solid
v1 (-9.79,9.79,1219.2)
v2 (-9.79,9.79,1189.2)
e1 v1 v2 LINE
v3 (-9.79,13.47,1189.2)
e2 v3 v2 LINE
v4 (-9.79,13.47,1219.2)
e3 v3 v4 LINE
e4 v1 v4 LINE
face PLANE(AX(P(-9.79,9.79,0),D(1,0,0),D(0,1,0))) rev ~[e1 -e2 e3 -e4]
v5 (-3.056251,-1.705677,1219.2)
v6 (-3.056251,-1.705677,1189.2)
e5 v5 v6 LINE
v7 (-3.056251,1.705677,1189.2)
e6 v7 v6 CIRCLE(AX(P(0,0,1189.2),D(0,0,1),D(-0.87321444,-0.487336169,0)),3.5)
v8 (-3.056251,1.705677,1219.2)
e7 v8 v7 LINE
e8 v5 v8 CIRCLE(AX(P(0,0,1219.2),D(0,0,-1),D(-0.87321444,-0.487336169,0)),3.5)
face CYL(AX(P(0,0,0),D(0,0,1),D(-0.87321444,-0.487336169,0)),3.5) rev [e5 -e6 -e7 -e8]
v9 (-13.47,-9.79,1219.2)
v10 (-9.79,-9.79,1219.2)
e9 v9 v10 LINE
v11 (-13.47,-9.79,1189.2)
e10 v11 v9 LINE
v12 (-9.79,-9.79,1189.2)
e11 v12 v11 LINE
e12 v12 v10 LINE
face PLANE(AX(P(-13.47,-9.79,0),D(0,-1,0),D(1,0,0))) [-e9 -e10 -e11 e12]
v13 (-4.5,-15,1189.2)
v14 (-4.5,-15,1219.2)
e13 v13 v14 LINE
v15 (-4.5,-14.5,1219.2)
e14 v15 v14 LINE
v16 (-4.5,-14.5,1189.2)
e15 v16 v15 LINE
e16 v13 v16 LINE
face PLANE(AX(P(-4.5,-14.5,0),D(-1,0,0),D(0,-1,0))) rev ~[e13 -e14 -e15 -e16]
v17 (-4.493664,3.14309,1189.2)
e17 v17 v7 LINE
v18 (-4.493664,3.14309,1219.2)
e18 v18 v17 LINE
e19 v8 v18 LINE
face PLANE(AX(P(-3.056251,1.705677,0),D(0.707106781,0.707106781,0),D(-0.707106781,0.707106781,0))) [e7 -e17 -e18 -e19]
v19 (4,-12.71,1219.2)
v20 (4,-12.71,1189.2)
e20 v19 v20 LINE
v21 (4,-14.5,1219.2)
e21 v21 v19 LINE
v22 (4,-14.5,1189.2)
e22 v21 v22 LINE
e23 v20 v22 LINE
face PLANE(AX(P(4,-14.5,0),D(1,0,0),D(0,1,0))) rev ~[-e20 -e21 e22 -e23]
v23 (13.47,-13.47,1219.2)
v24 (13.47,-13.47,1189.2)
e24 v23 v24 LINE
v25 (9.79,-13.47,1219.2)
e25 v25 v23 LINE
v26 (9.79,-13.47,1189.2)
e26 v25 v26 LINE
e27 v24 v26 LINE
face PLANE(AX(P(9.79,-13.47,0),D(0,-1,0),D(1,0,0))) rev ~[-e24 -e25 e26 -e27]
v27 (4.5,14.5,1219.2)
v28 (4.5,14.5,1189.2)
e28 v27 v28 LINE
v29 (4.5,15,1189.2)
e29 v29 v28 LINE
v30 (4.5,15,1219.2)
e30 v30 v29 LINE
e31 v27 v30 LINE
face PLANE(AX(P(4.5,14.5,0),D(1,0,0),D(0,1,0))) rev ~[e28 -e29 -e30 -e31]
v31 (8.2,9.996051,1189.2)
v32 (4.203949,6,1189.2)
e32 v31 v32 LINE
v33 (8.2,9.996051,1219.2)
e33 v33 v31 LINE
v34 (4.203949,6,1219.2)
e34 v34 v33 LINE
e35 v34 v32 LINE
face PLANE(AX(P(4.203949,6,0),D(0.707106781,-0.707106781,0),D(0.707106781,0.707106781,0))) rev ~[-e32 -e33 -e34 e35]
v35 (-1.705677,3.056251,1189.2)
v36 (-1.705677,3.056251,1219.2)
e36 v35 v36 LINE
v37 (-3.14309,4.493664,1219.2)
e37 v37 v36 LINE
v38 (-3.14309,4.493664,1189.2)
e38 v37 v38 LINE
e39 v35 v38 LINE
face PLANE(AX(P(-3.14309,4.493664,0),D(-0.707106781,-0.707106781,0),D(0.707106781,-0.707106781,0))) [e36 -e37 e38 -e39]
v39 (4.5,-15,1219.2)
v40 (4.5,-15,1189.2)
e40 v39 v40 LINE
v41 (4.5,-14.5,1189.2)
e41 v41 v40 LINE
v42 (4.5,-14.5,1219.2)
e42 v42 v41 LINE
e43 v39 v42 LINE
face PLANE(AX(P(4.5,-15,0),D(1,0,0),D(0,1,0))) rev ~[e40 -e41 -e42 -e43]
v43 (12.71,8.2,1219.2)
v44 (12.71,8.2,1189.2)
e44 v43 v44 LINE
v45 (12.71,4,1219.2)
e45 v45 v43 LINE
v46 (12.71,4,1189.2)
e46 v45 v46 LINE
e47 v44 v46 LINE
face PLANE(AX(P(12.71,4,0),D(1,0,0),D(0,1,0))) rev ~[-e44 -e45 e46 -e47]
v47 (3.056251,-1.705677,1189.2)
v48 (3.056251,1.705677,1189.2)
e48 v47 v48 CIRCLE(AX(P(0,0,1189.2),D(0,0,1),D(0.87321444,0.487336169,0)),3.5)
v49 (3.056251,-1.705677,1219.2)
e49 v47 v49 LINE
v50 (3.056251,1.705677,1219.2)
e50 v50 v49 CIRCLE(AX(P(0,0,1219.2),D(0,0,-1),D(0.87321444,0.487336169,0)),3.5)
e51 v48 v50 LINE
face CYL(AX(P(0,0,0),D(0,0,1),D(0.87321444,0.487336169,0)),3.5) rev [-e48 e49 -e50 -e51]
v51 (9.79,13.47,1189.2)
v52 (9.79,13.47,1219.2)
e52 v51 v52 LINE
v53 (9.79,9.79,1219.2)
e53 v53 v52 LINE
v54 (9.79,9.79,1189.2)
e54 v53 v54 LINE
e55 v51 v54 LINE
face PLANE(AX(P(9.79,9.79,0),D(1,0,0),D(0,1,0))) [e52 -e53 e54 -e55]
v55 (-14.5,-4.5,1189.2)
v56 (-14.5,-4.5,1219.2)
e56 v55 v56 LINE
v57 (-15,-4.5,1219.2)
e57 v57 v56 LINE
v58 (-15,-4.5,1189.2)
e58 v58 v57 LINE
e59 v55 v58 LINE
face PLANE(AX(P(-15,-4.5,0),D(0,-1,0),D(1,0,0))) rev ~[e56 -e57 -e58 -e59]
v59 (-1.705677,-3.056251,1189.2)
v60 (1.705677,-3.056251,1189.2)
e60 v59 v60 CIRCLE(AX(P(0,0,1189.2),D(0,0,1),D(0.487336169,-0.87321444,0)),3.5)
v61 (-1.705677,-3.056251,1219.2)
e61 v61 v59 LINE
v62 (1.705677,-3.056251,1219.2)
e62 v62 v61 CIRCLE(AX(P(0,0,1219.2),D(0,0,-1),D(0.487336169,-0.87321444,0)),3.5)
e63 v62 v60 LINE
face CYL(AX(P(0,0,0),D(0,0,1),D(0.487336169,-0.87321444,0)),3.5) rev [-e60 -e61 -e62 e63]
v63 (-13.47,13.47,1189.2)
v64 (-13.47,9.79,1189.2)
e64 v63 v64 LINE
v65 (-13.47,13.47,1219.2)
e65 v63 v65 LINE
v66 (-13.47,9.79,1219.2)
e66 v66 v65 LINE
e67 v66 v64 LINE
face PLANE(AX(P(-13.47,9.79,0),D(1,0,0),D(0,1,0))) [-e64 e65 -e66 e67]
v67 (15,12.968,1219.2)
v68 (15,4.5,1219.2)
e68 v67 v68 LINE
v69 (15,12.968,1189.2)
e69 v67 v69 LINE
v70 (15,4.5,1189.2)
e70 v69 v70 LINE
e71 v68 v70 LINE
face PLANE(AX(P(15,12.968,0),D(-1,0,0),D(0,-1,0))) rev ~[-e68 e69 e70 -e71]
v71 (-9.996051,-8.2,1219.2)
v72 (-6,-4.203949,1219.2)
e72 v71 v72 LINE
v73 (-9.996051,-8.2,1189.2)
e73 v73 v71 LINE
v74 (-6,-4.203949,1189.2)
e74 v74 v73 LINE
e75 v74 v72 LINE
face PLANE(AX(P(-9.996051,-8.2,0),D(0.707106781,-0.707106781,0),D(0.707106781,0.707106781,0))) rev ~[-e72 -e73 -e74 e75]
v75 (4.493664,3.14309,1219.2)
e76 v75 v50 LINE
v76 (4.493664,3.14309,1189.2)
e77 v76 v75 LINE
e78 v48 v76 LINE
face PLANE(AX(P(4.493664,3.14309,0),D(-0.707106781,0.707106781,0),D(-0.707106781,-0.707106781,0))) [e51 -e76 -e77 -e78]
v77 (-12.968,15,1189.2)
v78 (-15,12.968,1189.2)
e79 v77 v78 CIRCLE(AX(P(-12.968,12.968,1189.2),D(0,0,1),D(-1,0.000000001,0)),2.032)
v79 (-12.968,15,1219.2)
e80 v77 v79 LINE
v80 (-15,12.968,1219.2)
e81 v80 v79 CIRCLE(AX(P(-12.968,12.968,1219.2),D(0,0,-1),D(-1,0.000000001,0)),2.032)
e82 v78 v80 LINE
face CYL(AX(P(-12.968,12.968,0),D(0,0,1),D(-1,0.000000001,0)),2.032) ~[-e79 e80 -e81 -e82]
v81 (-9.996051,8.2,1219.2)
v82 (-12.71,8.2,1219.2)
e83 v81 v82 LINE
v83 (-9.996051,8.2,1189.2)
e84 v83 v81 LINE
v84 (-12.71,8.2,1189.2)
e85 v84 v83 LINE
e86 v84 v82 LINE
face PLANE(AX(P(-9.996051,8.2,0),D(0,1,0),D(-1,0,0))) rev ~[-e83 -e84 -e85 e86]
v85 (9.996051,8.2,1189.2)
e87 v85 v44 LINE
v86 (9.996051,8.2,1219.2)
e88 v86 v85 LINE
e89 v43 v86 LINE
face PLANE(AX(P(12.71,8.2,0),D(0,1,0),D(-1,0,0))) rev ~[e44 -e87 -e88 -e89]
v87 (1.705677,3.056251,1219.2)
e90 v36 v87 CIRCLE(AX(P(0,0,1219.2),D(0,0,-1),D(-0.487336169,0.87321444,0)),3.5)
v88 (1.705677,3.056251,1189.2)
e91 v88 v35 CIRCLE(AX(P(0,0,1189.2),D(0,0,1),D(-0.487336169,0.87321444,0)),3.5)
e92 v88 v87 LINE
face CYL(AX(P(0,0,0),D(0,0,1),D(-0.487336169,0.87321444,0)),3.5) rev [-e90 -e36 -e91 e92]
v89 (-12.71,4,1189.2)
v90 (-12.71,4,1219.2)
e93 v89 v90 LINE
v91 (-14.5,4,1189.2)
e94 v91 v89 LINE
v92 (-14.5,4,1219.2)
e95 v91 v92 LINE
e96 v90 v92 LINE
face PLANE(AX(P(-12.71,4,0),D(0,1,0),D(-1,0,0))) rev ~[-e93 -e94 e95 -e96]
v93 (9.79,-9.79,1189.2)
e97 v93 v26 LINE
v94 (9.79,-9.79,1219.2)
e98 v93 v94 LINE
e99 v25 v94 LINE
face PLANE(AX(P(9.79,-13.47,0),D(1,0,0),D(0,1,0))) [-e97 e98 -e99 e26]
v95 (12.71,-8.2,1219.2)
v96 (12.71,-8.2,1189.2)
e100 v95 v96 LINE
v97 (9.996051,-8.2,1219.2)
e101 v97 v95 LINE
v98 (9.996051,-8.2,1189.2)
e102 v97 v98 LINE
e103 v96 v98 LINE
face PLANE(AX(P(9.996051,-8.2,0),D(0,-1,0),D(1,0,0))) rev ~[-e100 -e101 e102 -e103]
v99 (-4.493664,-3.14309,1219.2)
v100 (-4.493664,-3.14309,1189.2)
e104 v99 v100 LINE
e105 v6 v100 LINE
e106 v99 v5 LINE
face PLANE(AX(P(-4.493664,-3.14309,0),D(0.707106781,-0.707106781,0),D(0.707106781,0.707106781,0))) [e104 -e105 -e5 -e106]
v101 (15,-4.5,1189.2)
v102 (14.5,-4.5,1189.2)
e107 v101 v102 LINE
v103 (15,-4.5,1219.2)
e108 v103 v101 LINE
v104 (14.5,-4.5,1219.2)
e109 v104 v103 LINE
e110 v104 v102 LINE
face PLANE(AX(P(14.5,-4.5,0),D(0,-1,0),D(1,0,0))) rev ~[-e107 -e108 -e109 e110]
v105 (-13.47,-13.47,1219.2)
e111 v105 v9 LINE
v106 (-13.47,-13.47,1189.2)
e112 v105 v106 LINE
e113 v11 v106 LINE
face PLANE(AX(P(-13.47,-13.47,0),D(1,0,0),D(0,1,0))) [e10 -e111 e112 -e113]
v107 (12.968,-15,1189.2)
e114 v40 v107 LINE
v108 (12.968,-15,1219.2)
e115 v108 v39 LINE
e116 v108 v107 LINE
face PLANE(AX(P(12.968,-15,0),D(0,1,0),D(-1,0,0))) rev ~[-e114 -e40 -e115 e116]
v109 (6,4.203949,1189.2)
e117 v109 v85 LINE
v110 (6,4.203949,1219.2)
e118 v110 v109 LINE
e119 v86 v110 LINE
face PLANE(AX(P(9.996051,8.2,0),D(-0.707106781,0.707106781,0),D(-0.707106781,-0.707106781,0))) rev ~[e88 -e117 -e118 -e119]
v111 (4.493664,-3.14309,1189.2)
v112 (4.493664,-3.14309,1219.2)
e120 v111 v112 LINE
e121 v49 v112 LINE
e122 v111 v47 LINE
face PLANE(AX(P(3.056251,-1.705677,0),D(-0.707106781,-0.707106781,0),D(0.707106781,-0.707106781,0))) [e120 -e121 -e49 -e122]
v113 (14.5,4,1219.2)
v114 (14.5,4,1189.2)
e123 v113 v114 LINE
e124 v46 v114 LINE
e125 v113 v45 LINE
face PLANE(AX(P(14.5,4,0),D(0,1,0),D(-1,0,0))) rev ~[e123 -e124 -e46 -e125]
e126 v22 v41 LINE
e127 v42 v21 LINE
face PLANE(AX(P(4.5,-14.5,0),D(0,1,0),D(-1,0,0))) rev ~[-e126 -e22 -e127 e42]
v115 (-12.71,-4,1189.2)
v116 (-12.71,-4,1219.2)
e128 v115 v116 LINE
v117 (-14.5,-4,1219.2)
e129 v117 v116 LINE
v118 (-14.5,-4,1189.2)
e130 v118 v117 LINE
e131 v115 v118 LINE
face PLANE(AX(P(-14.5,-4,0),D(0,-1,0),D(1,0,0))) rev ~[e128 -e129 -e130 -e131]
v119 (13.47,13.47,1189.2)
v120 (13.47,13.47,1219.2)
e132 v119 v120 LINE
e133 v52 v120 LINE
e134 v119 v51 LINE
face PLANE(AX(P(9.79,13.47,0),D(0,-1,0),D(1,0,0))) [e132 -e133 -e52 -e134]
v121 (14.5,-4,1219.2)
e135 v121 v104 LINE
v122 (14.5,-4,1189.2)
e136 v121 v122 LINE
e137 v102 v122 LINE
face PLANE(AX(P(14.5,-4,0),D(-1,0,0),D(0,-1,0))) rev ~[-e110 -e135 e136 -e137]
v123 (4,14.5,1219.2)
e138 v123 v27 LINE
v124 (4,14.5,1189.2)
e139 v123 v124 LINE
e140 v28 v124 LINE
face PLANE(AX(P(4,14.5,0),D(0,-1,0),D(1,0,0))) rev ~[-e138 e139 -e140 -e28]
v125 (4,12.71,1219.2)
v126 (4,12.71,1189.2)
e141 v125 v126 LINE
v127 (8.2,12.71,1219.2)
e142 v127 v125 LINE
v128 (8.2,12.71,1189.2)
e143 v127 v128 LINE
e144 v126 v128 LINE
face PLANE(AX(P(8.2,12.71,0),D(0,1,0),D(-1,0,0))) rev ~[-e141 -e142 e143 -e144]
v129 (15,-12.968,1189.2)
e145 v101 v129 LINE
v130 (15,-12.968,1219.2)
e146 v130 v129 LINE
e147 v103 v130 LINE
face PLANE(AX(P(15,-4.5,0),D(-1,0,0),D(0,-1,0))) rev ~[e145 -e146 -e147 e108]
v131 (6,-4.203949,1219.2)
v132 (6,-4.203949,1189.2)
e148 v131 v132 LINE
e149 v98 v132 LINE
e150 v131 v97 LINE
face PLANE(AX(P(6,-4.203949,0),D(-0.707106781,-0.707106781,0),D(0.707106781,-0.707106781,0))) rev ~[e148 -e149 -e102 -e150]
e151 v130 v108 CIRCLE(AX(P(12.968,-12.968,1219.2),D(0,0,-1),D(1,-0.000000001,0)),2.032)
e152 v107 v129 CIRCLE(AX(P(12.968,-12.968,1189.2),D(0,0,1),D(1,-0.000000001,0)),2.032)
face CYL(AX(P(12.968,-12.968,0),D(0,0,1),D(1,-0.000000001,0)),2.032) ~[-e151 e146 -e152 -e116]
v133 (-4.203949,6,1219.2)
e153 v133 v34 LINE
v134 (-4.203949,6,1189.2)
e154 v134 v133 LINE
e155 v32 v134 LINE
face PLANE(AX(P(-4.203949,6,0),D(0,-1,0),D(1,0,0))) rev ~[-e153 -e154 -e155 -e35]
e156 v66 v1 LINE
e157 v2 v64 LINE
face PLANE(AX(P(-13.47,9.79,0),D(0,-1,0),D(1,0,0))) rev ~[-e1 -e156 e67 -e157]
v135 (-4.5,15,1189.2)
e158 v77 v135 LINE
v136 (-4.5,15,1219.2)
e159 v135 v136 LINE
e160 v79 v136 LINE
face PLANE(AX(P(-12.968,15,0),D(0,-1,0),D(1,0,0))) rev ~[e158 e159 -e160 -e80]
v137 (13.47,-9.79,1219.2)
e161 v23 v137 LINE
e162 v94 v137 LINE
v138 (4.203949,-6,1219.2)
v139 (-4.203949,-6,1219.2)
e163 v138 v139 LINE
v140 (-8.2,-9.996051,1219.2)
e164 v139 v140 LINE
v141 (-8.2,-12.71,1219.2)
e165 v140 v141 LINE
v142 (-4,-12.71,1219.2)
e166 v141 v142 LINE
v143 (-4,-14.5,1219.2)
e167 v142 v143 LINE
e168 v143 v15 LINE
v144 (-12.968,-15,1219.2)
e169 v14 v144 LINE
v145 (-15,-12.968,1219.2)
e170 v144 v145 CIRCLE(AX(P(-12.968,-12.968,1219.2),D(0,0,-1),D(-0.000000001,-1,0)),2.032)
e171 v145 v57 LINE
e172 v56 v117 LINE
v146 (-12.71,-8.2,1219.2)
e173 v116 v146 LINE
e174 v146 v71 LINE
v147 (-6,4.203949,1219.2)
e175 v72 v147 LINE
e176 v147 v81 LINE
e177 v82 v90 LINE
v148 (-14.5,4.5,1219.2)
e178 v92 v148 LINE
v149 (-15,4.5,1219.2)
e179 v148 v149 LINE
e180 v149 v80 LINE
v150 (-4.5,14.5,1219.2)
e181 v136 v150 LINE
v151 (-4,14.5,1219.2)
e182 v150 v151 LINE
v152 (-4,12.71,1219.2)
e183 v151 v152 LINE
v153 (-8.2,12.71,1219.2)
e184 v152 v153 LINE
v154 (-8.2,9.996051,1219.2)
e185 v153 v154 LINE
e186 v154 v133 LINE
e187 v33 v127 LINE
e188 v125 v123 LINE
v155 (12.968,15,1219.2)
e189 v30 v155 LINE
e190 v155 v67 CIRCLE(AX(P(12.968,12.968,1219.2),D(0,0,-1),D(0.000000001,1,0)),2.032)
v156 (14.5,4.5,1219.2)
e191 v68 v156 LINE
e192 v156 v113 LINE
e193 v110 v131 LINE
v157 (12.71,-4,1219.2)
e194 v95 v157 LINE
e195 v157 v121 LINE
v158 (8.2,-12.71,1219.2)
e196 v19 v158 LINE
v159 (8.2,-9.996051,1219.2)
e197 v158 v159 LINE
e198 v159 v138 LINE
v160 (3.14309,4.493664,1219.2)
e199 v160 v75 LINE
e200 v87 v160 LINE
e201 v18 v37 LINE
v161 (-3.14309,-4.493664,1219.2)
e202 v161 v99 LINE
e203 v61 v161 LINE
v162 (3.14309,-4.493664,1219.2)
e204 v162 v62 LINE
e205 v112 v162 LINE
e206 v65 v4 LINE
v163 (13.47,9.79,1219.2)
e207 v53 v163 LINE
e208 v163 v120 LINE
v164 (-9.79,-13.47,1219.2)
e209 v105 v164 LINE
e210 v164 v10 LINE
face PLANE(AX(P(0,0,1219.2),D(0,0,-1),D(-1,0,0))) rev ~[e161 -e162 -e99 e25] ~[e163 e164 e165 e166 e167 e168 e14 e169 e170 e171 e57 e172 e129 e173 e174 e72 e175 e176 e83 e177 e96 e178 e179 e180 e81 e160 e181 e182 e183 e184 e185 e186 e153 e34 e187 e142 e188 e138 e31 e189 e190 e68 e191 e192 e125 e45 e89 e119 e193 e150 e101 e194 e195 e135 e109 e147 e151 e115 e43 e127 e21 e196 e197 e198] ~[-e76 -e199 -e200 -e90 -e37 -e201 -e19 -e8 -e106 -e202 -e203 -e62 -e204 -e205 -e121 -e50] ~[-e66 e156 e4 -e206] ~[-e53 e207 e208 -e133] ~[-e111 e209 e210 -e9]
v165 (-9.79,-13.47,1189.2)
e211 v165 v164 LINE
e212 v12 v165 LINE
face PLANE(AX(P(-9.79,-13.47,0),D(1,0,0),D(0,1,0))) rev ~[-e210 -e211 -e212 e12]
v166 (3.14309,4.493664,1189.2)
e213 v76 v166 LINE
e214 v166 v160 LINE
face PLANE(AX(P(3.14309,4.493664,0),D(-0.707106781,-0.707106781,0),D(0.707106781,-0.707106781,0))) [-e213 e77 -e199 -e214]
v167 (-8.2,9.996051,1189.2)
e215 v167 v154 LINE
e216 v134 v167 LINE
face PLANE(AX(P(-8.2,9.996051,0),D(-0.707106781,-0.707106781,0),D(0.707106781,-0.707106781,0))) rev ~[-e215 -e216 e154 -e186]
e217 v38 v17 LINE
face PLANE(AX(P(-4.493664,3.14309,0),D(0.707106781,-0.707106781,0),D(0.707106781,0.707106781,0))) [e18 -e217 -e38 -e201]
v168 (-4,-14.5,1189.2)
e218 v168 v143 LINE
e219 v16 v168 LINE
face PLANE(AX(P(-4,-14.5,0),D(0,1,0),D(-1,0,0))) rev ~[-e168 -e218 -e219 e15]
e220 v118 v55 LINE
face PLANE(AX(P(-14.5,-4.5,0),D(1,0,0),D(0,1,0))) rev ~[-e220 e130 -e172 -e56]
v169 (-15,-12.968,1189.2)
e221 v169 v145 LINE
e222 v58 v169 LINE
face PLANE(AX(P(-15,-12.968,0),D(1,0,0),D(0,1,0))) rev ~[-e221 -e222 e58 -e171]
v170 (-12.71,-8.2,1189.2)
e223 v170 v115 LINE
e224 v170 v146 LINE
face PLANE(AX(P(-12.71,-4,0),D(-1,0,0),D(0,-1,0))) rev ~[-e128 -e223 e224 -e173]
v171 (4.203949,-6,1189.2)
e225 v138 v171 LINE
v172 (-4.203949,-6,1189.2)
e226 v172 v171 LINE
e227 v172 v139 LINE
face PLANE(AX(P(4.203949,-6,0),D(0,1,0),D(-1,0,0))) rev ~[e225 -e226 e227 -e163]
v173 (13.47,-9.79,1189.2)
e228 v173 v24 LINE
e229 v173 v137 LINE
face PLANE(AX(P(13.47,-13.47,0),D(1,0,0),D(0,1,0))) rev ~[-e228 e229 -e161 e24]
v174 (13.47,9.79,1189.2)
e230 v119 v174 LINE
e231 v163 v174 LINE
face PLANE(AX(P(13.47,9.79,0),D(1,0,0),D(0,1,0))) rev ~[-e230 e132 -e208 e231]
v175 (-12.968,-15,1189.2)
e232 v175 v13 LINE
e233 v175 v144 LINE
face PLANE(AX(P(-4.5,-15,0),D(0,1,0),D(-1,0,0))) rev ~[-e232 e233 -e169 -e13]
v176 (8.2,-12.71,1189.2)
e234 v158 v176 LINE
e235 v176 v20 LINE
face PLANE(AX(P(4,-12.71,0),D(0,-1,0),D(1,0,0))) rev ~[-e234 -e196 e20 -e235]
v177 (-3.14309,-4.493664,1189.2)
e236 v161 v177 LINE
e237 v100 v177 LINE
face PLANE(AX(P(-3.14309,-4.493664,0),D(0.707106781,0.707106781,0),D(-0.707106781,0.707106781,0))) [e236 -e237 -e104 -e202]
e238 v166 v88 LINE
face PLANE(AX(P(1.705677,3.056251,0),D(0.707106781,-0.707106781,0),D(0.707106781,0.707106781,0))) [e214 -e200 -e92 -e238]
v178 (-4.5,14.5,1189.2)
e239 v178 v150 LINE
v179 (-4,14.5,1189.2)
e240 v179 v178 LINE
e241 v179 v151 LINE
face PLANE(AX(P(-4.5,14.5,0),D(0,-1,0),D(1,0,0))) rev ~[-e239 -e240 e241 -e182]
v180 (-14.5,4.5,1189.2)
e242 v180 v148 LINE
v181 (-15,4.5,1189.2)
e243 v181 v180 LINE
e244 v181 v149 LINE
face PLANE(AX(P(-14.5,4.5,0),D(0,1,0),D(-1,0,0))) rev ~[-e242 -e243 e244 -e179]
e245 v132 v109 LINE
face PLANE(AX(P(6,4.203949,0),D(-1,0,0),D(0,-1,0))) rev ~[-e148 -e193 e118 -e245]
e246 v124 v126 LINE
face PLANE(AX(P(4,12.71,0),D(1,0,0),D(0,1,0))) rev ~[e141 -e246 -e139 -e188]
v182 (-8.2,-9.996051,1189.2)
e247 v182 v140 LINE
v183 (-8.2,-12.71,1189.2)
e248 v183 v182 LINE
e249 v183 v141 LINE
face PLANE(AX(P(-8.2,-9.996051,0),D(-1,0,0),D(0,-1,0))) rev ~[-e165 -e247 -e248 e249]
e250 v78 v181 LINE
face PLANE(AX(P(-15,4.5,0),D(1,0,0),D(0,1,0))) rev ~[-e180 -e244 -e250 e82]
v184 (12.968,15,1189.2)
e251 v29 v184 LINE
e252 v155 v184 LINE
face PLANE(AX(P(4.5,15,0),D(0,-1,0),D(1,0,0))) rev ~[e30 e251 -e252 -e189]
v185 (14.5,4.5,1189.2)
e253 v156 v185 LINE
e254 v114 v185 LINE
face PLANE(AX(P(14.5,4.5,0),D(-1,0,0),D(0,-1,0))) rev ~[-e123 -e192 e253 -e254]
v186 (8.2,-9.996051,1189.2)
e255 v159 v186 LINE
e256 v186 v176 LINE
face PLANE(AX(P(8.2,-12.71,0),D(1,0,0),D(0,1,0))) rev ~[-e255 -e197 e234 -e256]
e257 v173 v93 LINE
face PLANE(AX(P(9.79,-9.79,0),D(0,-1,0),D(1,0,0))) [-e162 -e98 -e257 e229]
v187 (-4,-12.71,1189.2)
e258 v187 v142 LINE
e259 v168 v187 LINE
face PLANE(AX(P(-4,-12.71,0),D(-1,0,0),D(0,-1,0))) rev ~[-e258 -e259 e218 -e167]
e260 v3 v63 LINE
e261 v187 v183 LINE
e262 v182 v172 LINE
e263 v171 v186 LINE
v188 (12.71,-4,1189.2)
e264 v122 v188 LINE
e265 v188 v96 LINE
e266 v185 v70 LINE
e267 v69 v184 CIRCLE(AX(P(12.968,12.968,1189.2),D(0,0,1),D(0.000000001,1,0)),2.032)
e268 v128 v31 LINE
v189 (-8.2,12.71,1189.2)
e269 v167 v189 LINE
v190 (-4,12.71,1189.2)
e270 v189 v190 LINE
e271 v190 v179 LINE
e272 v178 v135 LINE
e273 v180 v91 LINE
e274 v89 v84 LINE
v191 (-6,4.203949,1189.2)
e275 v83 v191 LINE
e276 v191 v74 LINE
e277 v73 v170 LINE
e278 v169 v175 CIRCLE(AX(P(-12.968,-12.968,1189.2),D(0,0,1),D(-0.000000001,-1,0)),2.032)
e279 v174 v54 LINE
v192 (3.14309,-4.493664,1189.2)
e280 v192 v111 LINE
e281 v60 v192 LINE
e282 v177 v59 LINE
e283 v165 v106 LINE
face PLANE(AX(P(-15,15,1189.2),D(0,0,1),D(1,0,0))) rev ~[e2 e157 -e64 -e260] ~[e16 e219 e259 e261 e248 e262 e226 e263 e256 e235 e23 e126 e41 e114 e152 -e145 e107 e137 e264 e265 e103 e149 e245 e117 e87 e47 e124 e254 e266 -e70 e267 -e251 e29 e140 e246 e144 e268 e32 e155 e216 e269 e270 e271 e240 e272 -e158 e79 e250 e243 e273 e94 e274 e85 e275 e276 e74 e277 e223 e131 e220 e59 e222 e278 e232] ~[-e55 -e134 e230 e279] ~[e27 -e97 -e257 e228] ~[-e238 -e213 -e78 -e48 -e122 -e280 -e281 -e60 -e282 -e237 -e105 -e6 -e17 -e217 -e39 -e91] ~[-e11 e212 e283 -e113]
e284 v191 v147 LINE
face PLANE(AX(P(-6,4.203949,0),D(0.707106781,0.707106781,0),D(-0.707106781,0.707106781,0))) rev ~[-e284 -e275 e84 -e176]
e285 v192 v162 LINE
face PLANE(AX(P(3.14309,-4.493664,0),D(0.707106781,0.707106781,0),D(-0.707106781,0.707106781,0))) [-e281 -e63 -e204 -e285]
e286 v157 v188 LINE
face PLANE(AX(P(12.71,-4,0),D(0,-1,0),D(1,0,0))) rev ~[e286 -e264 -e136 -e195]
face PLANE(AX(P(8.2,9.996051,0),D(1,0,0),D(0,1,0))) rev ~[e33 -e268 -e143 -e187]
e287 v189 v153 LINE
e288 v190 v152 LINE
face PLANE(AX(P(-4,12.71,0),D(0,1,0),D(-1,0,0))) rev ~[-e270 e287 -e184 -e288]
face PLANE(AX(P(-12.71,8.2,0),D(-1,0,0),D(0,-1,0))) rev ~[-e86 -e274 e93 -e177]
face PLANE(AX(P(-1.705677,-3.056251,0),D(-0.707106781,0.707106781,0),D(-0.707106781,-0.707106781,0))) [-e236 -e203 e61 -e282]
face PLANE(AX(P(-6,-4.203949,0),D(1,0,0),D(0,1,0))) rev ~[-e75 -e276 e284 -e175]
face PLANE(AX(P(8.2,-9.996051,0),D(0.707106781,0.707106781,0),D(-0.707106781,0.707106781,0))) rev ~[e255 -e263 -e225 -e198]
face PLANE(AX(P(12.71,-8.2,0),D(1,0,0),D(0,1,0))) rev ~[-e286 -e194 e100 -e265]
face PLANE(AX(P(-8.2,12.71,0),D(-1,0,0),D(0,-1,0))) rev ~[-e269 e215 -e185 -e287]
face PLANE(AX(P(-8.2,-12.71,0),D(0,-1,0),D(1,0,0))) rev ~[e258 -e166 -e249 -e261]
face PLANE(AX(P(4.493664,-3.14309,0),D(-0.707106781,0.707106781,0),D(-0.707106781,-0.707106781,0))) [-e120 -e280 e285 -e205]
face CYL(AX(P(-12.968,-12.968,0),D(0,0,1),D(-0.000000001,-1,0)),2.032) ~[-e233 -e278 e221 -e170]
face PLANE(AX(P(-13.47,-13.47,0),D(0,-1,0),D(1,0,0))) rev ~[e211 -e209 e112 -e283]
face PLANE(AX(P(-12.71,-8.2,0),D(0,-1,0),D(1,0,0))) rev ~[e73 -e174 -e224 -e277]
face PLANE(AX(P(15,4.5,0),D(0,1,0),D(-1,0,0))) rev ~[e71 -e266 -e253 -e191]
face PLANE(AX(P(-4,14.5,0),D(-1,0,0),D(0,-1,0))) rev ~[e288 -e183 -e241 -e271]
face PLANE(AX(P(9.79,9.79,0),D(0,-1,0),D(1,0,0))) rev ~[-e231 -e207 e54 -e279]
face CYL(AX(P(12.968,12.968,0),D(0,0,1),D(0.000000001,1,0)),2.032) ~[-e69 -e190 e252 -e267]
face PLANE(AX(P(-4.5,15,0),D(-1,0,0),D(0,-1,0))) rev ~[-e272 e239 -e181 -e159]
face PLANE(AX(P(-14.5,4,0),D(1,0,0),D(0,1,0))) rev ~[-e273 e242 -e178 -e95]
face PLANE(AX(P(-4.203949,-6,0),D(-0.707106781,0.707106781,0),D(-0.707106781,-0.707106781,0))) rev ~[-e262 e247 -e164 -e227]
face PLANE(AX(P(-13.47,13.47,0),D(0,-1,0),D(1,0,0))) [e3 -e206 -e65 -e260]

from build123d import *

# Parameters (mm, degrees)
SKETCH3_W           = 3.68
SKETCH3_H           = 3.68
BOSS_EXTRUDE1_DEPTH = 1219.2
SKETCH4_W           = 30
SKETCH4_H           = 2408.4
CUT_EXTRUDE1_DEPTH  = 1220.661280848


with BuildPart() as part:
    # Sketch3 → Boss-Extrude1 (new, symmetric)
    with BuildSketch(Plane.XY):
        with BuildLine():
            Line((-4.203948776, 6), (0, 6))
            Line((0, 6), (4.203948776, 6))
            Line((4.203948776, 6), (8.2, 9.996051224))
            Line((8.2, 9.996051224), (8.2, 12.71))
            Line((8.2, 12.71), (4, 12.71))
            Line((4, 12.71), (4, 14.5))
            Line((4, 14.5), (4.5, 14.5))
            Line((4.5, 14.5), (4.5, 15))
            Line((4.5, 15), (12.968, 15))
            ThreePointArc((12.968, 15), (14.404840979, 14.404840979), (15, 12.968))
            Line((15, 12.968), (15, 4.5))
            Line((15, 4.5), (14.5, 4.5))
            Line((14.5, 4.5), (14.5, 4))
            Line((14.5, 4), (12.71, 4))
            Line((12.71, 4), (12.71, 8.2))
            Line((12.71, 8.2), (9.996051224, 8.2))
            Line((9.996051224, 8.2), (6, 4.203948776))
            Line((6, 4.203948776), (6, 0))
            Line((6, 0), (6, -4.203948776))
            Line((6, -4.203948776), (9.996051224, -8.2))
            Line((9.996051224, -8.2), (12.71, -8.2))
            Line((12.71, -8.2), (12.71, -4))
            Line((12.71, -4), (14.5, -4))
            Line((14.5, -4), (14.5, -4.5))
            Line((14.5, -4.5), (15, -4.5))
            Line((15, -4.5), (15, -12.968))
            ThreePointArc((15, -12.968), (14.404840979, -14.404840979), (12.968, -15))
            Line((12.968, -15), (4.5, -15))
            Line((4.5, -15), (4.5, -14.5))
            Line((4.5, -14.5), (4, -14.5))
            Line((4, -14.5), (4, -12.71))
            Line((4, -12.71), (8.2, -12.71))
            Line((8.2, -12.71), (8.2, -9.996051224))
            Line((8.2, -9.996051224), (4.203948776, -6))
            Line((4.203948776, -6), (0, -6))
            Line((0, -6), (-4.203948776, -6))
            Line((-4.203948776, -6), (-8.2, -9.996051224))
            Line((-8.2, -9.996051224), (-8.2, -12.71))
            Line((-8.2, -12.71), (-4, -12.71))
            Line((-4, -12.71), (-4, -14.5))
            Line((-4, -14.5), (-4.5, -14.5))
            Line((-4.5, -14.5), (-4.5, -15))
            Line((-4.5, -15), (-12.968, -15))
            ThreePointArc((-12.968, -15), (-14.404840979, -14.404840979), (-15, -12.968))
            Line((-15, -12.968), (-15, -4.5))
            Line((-15, -4.5), (-14.5, -4.5))
            Line((-14.5, -4.5), (-14.5, -4))
            Line((-14.5, -4), (-12.71, -4))
            Line((-12.71, -4), (-12.71, -8.2))
            Line((-12.71, -8.2), (-9.996051224, -8.2))
            Line((-9.996051224, -8.2), (-6, -4.203948776))
            Line((-6, -4.203948776), (-6, 0))
            Line((-6, 0), (-6, 4.203948776))
            Line((-6, 4.203948776), (-9.996051224, 8.2))
            Line((-9.996051224, 8.2), (-12.71, 8.2))
            Line((-12.71, 8.2), (-12.71, 4))
            Line((-12.71, 4), (-14.5, 4))
            Line((-14.5, 4), (-14.5, 4.5))
            Line((-14.5, 4.5), (-15, 4.5))
            Line((-15, 4.5), (-15, 12.968))
            ThreePointArc((-15, 12.968), (-14.404840979, 14.404840979), (-12.968, 15))
            Line((-12.968, 15), (-4.5, 15))
            Line((-4.5, 15), (-4.5, 14.5))
            Line((-4.5, 14.5), (-4, 14.5))
            Line((-4, 14.5), (-4, 12.71))
            Line((-4, 12.71), (-8.2, 12.71))
            Line((-8.2, 12.71), (-8.2, 9.996051224))
            Line((-8.2, 9.996051224), (-4.203948776, 6))
        make_face()
        with Locations((-11.63, 11.63)):
            Rectangle(SKETCH3_W, SKETCH3_H, mode=Mode.SUBTRACT)
        with BuildLine():
            Line((-3.143089642, 4.493663594), (-1.705676589, 3.056250541))
            ThreePointArc((-1.705676589, 3.056250541), (0, 3.5), (1.705676589, 3.056250541))
            Line((1.705676589, 3.056250541), (3.143089642, 4.493663594))
            Line((3.143089642, 4.493663594), (4.493663594, 3.143089642))
            Line((4.493663594, 3.143089642), (3.056250541, 1.705676589))
            ThreePointArc((3.056250541, 1.705676589), (3.5, 0), (3.056250541, -1.705676589))
            Line((3.056250541, -1.705676589), (4.493663594, -3.143089642))
            Line((4.493663594, -3.143089642), (3.143089642, -4.493663594))
            Line((3.143089642, -4.493663594), (1.705676589, -3.056250541))
            ThreePointArc((1.705676589, -3.056250541), (0, -3.5), (-1.705676589, -3.056250541))
            Line((-1.705676589, -3.056250541), (-3.143089642, -4.493663594))
            Line((-3.143089642, -4.493663594), (-4.493663594, -3.143089642))
            Line((-4.493663594, -3.143089642), (-3.056250541, -1.705676589))
            ThreePointArc((-3.056250541, -1.705676589), (-3.5, 0), (-3.056250541, 1.705676589))
            Line((-3.056250541, 1.705676589), (-4.493663594, 3.143089642))
            Line((-4.493663594, 3.143089642), (-3.143089642, 4.493663594))
        make_face(mode=Mode.SUBTRACT)
        with Locations((11.63, 11.63)):
            Rectangle(SKETCH3_W, SKETCH3_H, mode=Mode.SUBTRACT)
        with Locations((11.63, -11.63)):
            Rectangle(SKETCH3_W, SKETCH3_H, mode=Mode.SUBTRACT)
        with Locations((-11.63, -11.63)):
            Rectangle(SKETCH3_W, SKETCH3_H, mode=Mode.SUBTRACT)
    extrude(amount=BOSS_EXTRUDE1_DEPTH, both=True)

    # Sketch4 → Cut-Extrude1 (cut, through all)
    with BuildSketch(Plane(origin=(0, 15, 0), x_dir=(1, 0, 0), z_dir=(0, 1, 0))):
        with Locations((0, 15)):
            Rectangle(SKETCH4_W, SKETCH4_H)
    extrude(amount=-CUT_EXTRUDE1_DEPTH, mode=Mode.SUBTRACT)


solid = part.part
